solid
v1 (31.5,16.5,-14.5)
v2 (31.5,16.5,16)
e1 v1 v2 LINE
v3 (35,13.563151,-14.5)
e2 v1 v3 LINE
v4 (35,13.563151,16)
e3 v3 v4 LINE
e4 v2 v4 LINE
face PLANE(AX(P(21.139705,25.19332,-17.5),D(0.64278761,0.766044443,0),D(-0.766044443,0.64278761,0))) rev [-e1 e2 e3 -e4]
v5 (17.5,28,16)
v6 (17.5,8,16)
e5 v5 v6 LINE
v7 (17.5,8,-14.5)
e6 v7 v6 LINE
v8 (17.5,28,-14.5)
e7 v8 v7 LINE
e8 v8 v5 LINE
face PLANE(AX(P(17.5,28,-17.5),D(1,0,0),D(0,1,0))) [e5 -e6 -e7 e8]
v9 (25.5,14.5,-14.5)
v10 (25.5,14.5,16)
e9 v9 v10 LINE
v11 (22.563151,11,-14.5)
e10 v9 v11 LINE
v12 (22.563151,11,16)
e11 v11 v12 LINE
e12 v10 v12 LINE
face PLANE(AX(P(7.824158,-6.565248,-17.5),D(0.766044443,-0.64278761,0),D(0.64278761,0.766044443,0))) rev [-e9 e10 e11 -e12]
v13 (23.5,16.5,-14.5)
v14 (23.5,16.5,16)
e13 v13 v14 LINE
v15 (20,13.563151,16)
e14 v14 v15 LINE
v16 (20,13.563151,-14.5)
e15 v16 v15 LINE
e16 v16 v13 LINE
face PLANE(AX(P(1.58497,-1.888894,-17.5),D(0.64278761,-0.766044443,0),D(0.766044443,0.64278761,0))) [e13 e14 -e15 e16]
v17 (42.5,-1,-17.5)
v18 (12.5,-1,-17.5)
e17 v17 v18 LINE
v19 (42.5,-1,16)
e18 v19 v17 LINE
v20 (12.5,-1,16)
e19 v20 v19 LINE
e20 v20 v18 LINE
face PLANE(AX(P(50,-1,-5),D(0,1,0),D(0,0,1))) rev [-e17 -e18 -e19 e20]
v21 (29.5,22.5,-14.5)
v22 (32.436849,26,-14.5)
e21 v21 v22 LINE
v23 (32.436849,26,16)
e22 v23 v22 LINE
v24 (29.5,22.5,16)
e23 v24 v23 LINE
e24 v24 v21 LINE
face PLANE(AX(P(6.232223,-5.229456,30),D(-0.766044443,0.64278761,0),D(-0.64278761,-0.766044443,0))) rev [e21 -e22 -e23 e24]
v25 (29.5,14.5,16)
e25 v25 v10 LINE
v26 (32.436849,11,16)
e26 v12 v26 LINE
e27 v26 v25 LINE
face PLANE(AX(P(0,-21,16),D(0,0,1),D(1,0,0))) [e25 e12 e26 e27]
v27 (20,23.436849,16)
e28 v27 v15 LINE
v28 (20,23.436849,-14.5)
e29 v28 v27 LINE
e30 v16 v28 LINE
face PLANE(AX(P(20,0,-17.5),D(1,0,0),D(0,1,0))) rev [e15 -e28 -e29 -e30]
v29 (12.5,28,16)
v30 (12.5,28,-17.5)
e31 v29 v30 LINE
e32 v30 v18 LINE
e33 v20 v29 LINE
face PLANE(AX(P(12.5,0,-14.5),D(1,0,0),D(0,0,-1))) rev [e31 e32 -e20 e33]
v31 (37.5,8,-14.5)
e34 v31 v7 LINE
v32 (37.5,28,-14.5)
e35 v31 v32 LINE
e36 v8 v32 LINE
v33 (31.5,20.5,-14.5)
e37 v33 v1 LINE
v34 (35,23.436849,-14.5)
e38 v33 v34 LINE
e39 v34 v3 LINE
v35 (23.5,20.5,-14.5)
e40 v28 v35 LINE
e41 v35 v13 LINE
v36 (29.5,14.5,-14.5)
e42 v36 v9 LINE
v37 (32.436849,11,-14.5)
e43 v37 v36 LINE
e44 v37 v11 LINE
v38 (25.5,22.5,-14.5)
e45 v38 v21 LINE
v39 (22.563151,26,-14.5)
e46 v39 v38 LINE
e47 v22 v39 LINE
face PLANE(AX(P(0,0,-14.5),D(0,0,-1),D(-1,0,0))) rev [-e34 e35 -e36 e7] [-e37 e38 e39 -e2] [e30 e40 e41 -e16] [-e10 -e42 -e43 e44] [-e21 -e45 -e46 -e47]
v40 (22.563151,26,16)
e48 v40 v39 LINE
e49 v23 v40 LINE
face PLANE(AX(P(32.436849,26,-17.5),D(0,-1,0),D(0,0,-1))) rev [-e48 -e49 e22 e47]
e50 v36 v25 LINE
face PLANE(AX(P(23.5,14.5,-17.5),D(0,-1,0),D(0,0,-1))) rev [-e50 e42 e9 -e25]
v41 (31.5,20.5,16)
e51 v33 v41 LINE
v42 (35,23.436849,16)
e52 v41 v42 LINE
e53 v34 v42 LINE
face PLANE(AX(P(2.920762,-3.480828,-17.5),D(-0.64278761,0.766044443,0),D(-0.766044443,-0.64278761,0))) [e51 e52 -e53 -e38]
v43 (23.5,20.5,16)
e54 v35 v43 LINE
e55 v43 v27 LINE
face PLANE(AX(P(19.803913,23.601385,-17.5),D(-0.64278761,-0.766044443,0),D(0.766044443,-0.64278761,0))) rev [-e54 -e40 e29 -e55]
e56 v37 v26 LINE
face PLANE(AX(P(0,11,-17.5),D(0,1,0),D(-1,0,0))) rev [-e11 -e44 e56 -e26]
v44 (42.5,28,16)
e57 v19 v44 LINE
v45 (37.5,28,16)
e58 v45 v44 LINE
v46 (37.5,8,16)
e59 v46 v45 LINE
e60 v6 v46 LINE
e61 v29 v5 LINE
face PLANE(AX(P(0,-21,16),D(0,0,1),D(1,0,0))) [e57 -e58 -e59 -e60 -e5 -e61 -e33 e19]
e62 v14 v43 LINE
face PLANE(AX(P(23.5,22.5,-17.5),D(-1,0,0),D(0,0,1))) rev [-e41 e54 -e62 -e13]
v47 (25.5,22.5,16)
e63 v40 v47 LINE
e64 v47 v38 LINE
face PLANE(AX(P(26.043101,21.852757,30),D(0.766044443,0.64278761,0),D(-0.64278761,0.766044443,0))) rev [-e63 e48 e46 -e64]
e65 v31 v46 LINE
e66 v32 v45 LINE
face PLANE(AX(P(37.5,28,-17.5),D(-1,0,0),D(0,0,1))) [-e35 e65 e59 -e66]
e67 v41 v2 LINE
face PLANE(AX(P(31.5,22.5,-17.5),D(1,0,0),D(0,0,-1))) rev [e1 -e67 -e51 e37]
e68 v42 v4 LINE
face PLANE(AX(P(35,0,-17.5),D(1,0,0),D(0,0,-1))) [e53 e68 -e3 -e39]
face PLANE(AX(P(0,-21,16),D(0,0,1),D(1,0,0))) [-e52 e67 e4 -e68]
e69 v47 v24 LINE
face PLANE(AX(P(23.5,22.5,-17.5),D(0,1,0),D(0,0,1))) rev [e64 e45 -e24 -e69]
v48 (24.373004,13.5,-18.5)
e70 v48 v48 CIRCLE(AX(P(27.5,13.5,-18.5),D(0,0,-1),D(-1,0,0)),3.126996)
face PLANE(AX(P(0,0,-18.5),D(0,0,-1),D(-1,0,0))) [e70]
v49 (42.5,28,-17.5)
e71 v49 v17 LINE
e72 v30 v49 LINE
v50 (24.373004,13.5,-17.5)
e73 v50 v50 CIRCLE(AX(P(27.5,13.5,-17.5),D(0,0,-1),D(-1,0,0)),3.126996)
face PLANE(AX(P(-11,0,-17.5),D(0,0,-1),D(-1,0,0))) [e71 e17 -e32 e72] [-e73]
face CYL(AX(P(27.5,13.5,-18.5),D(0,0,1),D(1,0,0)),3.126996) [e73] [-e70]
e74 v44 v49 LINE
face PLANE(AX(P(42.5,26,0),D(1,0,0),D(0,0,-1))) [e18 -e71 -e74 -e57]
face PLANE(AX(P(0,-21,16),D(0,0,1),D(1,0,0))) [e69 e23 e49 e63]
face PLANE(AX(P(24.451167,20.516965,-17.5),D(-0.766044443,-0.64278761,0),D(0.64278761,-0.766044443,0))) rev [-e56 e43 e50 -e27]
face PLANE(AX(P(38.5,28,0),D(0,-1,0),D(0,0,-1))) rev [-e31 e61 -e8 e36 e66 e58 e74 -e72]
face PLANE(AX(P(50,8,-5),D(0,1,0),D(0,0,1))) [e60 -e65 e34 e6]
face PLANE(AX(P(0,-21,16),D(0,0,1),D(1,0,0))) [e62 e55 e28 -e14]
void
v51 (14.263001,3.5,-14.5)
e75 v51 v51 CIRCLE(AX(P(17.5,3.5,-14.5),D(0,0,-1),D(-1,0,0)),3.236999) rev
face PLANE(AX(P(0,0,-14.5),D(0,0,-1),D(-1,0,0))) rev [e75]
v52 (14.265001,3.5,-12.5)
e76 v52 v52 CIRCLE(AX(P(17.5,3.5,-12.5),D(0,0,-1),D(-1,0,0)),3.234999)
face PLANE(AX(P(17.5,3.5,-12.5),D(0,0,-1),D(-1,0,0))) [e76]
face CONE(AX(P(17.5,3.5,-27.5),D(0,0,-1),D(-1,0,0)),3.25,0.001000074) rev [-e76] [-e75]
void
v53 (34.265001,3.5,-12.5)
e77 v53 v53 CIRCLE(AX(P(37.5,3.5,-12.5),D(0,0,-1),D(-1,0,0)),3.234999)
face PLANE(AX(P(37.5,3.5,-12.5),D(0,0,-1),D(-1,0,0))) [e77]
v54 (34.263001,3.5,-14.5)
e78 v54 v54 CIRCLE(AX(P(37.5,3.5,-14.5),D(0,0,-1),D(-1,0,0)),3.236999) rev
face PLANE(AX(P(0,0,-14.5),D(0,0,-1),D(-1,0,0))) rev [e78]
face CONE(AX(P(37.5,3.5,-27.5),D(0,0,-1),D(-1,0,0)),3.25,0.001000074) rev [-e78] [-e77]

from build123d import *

# Parameters (mm, degrees)
BOSS_EXTRUDE2_DEPTH          = 8
BOSS_EXTRUDE2_DEPTH_BACK     = 1
SKETCH1_R                    = 2.5
CUT_EXTRUDE1_DEPTH           = 79.300702423
CUT_EXTRUDE1_DEPTH_BACK      = 79.300702423
SKETCH2_R                    = 2.5
SKETCH3_R                    = 3.25
CUT_EXTRUDE5_DEPTH           = 15
CUT_EXTRUDE5_DRAFT           = -0.0573
CUT_EXTRUDE5_PROFILE_2_DEPTH = 15
CUT_EXTRUDE5_PROFILE_2_DRAFT = -0.0573
SKETCH5_W                    = 4.5
SKETCH5_H                    = 6.5
BOSS_EXTRUDE3_DEPTH          = 14.5
SKETCH6_R                    = 4
CUT_EXTRUDE4_DEPTH           = 1.5
SKETCH12_W                   = 10.5
SKETCH12_H                   = 30
BOSS_EXTRUDE7_DEPTH          = 9
SKETCH15_W                   = 9
SKETCH15_H                   = 6.5
BOSS_EXTRUDE8_DEPTH          = 3.5
BOSS_EXTRUDE9_DEPTH          = 54
FILLET4_R                    = 5
SKETCH18_W                   = 9.873697418
SKETCH18_H                   = 6.5
BOSS_EXTRUDE11_DEPTH         = 0.5
SKETCH20_W                   = 4
SKETCH20_H                   = 17.5
BOSS_EXTRUDE12_DEPTH         = 18
BOSS_EXTRUDE13_DEPTH         = 11
BOSS_EXTRUDE13_DEPTH_BACK    = 4
SKETCH22_W                   = 17.5
SKETCH22_H                   = 4
SKETCH25_W                   = 2
SKETCH25_H                   = 17.5
BOSS_EXTRUDE14_DEPTH         = 41
SKETCH28_W                   = 41
SKETCH28_H                   = 45
BOSS_EXTRUDE15_DEPTH         = 2
SKETCH29_R                   = 1.75
CUT_EXTRUDE8_DEPTH           = 9
BOSS_EXTRUDE16_DEPTH         = 9
BOSS_EXTRUDE16_DEPTH_BACK    = 4
SKETCH30_W                   = 17.5
SKETCH30_H                   = 2
CUT_EXTRUDE9_DEPTH           = 9
SKETCH32_W                   = 13
SKETCH32_H                   = 4
BOSS_EXTRUDE17_DEPTH         = 23.5
SKETCH33_W                   = 0.5
SKETCH33_H                   = 17.5
BOSS_EXTRUDE18_DEPTH         = 20
SKETCH34_W                   = 4.5
SKETCH34_H                   = 25
SKETCH34_W_2                 = 15.5
SKETCH34_H_2                 = 4
SKETCH34_W_3                 = 9
BOSS_EXTRUDE19_DEPTH         = 26
SKETCH35_W                   = 9.873697418
SKETCH35_H                   = 0.5
BOSS_EXTRUDE20_DEPTH         = 47.5
BOSS_EXTRUDE21_DEPTH         = 47.5
SKETCH38_W                   = 0.419549816
SKETCH38_H                   = 18.5
CUT_EXTRUDE10_DEPTH          = 90.5
SKETCH39_W                   = 4
SKETCH39_H                   = 4
BOSS_EXTRUDE23_DEPTH         = 47.5
SKETCH46_W                   = 22.5
SKETCH46_H                   = 9
SKETCH46_W_2                 = 5
BOSS_EXTRUDE26_DEPTH         = 11.5
SKETCH47_W                   = 27.5
SKETCH47_H                   = 9
BOSS_EXTRUDE27_DEPTH         = 11
SKETCH48_W                   = 5
SKETCH48_H                   = 6.5
BOSS_EXTRUDE31_DEPTH         = 18.5
SKETCH50_R                   = 4
CUT_EXTRUDE11_DEPTH          = 1.5
SKETCH51_W                   = 9.626242636
SKETCH51_H                   = 9.125298808
BOSS_EXTRUDE32_DEPTH         = 1.5
BOSS_EXTRUDE35_DEPTH         = 47.5
SKETCH55_W                   = 9.873697418
SKETCH55_H                   = 0.5
CUT_EXTRUDE12_DEPTH          = 47.5
SKETCH56_W                   = 0.5
SKETCH56_H                   = 20
BOSS_EXTRUDE36_DEPTH         = 43.5
BOSS_EXTRUDE37_DEPTH         = 47.5
SKETCH58_W                   = 0.715052156
SKETCH58_H                   = 9.51279705
CUT_EXTRUDE13_DEPTH          = 4
CUT_EXTRUDE15_DEPTH          = 47.5
SKETCH60_W                   = 0.215052156
SKETCH60_H                   = 9.51279705
CUT_EXTRUDE16_DEPTH          = 47.5
CUT_EXTRUDE17_DEPTH          = 47.5
SKETCH62_W                   = 8
SKETCH62_H                   = 8
CUT_EXTRUDE18_DEPTH          = 47.5
SKETCH63_W                   = 13
SKETCH63_H                   = 4
CUT_EXTRUDE20_DEPTH          = 17
SKETCH64_W                   = 1
SKETCH64_H                   = 1.5
BOSS_EXTRUDE38_DEPTH         = 6.5
SKETCH65_W                   = 7
SKETCH65_H                   = 3
CUT_EXTRUDE21_DEPTH          = 1.5
BOSS_EXTRUDE39_START         = -2
BOSS_EXTRUDE39_DEPTH         = 2
CUT_EXTRUDE22_DEPTH          = 155
CUT_EXTRUDE24_DEPTH          = 100.318930723
CUT_EXTRUDE24_DEPTH_BACK     = 100.318930723
SKETCH71_R                   = 1.75
SKETCH71_R_2                 = 12.5
SKETCH71_W                   = 8.630690043
SKETCH71_H                   = 4
CUT_EXTRUDE25_DEPTH          = 10
CUT_EXTRUDE26_DEPTH          = 78.879714946
CUT_EXTRUDE26_DEPTH_BACK     = 78.879714946
SKETCH72_W                   = 11
SKETCH72_H                   = 4
SKETCH72_W_2                 = 23.5
SKETCH72_H_2                 = 9
SKETCH72_W_3                 = 9
SKETCH72_H_3                 = 16
SKETCH72_W_4                 = 7
SKETCH72_H_4                 = 1.5
BOSS_EXTRUDE40_DEPTH         = 3
CUT_EXTRUDE27_DEPTH          = 49
SKETCH75_W                   = 30
SKETCH75_H                   = 29
BOSS_EXTRUDE41_DEPTH         = 3
BOSS_EXTRUDE42_DEPTH         = 1


with BuildPart() as part:
    # Sketch1 → Boss-Extrude2 (new, two sides: drawn at the far end of the back side and taken through both)
    with BuildSketch(Plane(origin=(0, 0, 0), x_dir=(1, 0, 0), z_dir=(0, 1, 0)).offset(-BOSS_EXTRUDE2_DEPTH_BACK)):
        with BuildLine():
            Line((5, 0), (50, 0))
            ThreePointArc((50, 0), (53.535533906, 1.464466094), (55, 5))
            Line((55, 5), (55, 50))
            ThreePointArc((55, 50), (53.535533906, 53.535533906), (50, 55))
            Line((50, 55), (5, 55))
            ThreePointArc((5, 55), (1.464466094, 53.535533906), (0, 50))
            Line((0, 50), (0, 5))
            ThreePointArc((0, 5), (1.464466094, 1.464466094), (5, 0))
        make_face()
        with Locations(Location((7.5, 47.5, 0), (0, 0, 270))):
            Circle(SKETCH1_R, mode=Mode.SUBTRACT)
        with Locations(Location((47.5, 47.5, 0), (0, 0, 270))):
            Circle(SKETCH1_R, mode=Mode.SUBTRACT)
        with Locations(Location((47.5, 7.5, 0), (0, 0, 270))):
            Circle(SKETCH1_R, mode=Mode.SUBTRACT)
        with Locations(Location((7.5, 7.5, 0), (0, 0, 270))):
            Circle(SKETCH1_R, mode=Mode.SUBTRACT)
    extrude(amount=BOSS_EXTRUDE2_DEPTH + BOSS_EXTRUDE2_DEPTH_BACK)

    # Sketch2 → Cut-Extrude1 (cut, two sides: drawn at the far end of the back side and taken through both)
    with BuildSketch(Plane(origin=(0, 8, 0), x_dir=(1, 0, 0), z_dir=(0, 1, 0)).offset(-CUT_EXTRUDE1_DEPTH_BACK)):
        with BuildLine():
            Line((0, 50), (0, 27.5))
            Line((0, 27.5), (55, 27.5))
            Line((55, 27.5), (55, 50))
            ThreePointArc((55, 50), (53.535533906, 53.535533906), (50, 55))
            Line((50, 55), (5, 55))
            ThreePointArc((5, 55), (1.464466094, 53.535533906), (0, 50))
        make_face()
        with Locations((7.5, 47.5)):
            Circle(SKETCH2_R, mode=Mode.SUBTRACT)
        with Locations((47.5, 47.5)):
            Circle(SKETCH2_R, mode=Mode.SUBTRACT)
    extrude(amount=CUT_EXTRUDE1_DEPTH + CUT_EXTRUDE1_DEPTH_BACK, mode=Mode.SUBTRACT)


with BuildPart() as cut_extrude5_tool:
    # Sketch3 → Cut-Extrude5 (with draft: the straight prism first)
    with BuildSketch(Plane(origin=(0, 0, -27.5), x_dir=(-1, 0, 0), z_dir=(0, 0, -1))):
        with Locations((-37.5, 3.5)):
            Circle(SKETCH3_R)
    extrude(amount=-CUT_EXTRUDE5_DEPTH)
    # Cut-Extrude5: the draft: its side faces are tilted about the plane it starts from
    cut_extrude5_sides = [cut_extrude5_tool.faces().sort_by_distance(p)[0] for p in [
        (40.75, 3.5, -20),
    ]]
    draft(cut_extrude5_sides, Plane(origin=(0, 0, -27.5), x_dir=(-1, 0, 0), z_dir=(0, 0, -1)), CUT_EXTRUDE5_DRAFT)


with BuildPart() as part_1:
    add(part.part)

    # Cut-Extrude5: cut by cut_extrude5_tool
    add(cut_extrude5_tool.part, mode=Mode.SUBTRACT)


with BuildPart() as cut_extrude5_profile_2_tool:
    # Sketch3 → Cut-Extrude5 profile 2 (with draft: the straight prism first)
    with BuildSketch(Plane(origin=(0, 0, -27.5), x_dir=(-1, 0, 0), z_dir=(0, 0, -1))):
        with Locations((-17.5, 3.5)):
            Circle(SKETCH3_R)
    extrude(amount=-CUT_EXTRUDE5_PROFILE_2_DEPTH)
    # Cut-Extrude5 profile 2: the draft: its side faces are tilted about the plane it starts from
    cut_extrude5_profile_2_sides = [cut_extrude5_profile_2_tool.faces().sort_by_distance(p)[0] for p in [
        (20.75, 3.5, -20),
    ]]
    draft(cut_extrude5_profile_2_sides, Plane(origin=(0, 0, -27.5), x_dir=(-1, 0, 0), z_dir=(0, 0, -1)), CUT_EXTRUDE5_PROFILE_2_DRAFT)


with BuildPart() as part_2:
    add(part_1.part)

    # Cut-Extrude5 profile 2: cut by cut_extrude5_profile_2_tool
    add(cut_extrude5_profile_2_tool.part, mode=Mode.SUBTRACT)

    # Sketch5 → Boss-Extrude3 (add)
    with BuildSketch(Plane(origin=(0, 8, 0), x_dir=(1, 0, 0), z_dir=(0, 1, 0))):
        with Locations((25.25, 20.75)):
            Rectangle(SKETCH5_W, SKETCH5_H)
        with Locations((29.75, 20.75)):
            Rectangle(SKETCH5_W, SKETCH5_H)
    extrude(amount=BOSS_EXTRUDE3_DEPTH)

    # Sketch6 → Cut-Extrude4 (cut)
    with BuildSketch(Plane(origin=(0, 0, -24), x_dir=(-1, 0, 0), z_dir=(0, 0, -1))):
        with Locations((-27.5, 17)):
            Circle(SKETCH6_R)
    extrude(amount=-CUT_EXTRUDE4_DEPTH, mode=Mode.SUBTRACT)

    # Sketch12 → Boss-Extrude7 (add)
    with BuildSketch(Plane(origin=(0, 8, 0), x_dir=(1, 0, 0), z_dir=(0, 1, 0))):
        with Locations((32.75, -15)):
            Rectangle(SKETCH12_W, SKETCH12_H)
        with Locations((22.25, -15)):
            Rectangle(SKETCH12_W, SKETCH12_H)
    extrude(amount=-BOSS_EXTRUDE7_DEPTH)

    # Sketch15 → Boss-Extrude8 (add)
    with BuildSketch(Plane(origin=(0, 22.5, 0), x_dir=(1, 0, 0), z_dir=(0, 1, 0))):
        with Locations((27.5, 20.75)):
            Rectangle(SKETCH15_W, SKETCH15_H)
    extrude(amount=BOSS_EXTRUDE8_DEPTH)

    # Sketch11 → Boss-Extrude9 (add)
    with BuildSketch(Plane(origin=(0, 0, -24), x_dir=(-1, 0, 0), z_dir=(0, 0, -1))):
        Polygon((-32.436848709, 26), (-29.5, 22.5), (-29.5, 26), align=None)
        Polygon((-29.5, 22.5), (-27.5, 22.5), (-25.5, 22.5), (-25.5, 26), (-29.5, 26), align=None)
        Polygon((-25.5, 26), (-25.5, 22.5), (-22.563151291, 26), align=None)
    extrude(amount=-BOSS_EXTRUDE9_DEPTH)

    # Fillet4
    fillet4_edges = [part_2.edges().sort_by_distance(p)[0] for p in [
        (27.5, -1, 30),
    ]]
    fillet(fillet4_edges, radius=FILLET4_R)

    # Sketch18 → Boss-Extrude11 (add)
    with BuildSketch(Plane(origin=(0, 26, 0), x_dir=(1, 0, 0), z_dir=(0, 1, 0))):
        with Locations((27.5, 20.75)):
            Rectangle(SKETCH18_W, SKETCH18_H)
    extrude(amount=BOSS_EXTRUDE11_DEPTH)

    # Sketch20 → Boss-Extrude12 (add)
    with BuildSketch(Plane(origin=(0, 8, 0), x_dir=(1, 0, 0), z_dir=(0, 1, 0))):
        with Locations((14.5, 8.75)):
            Rectangle(SKETCH20_W, SKETCH20_H)
        with Locations((40.5, 8.75)):
            Rectangle(SKETCH20_W, SKETCH20_H)
    extrude(amount=BOSS_EXTRUDE12_DEPTH)

    # Sketch22 → Boss-Extrude13 (add, two sides: drawn at the far end of the back side and taken through both)
    with BuildSketch(Plane.ZY.offset(-12.5).offset(-BOSS_EXTRUDE13_DEPTH_BACK)):
        with Locations((-8.75, 26)):
            Rectangle(SKETCH22_W, SKETCH22_H)
    extrude(amount=BOSS_EXTRUDE13_DEPTH + BOSS_EXTRUDE13_DEPTH_BACK)

    # Sketch25 → Boss-Extrude14 (add)
    with BuildSketch(Plane(origin=(0, 28, 0), x_dir=(1, 0, 0), z_dir=(0, 1, 0))):
        with Locations((2.5, 8.75)):
            Rectangle(SKETCH25_W, SKETCH25_H)
    extrude(amount=BOSS_EXTRUDE14_DEPTH)

    # Sketch28 → Boss-Extrude15 (add)
    with BuildSketch(Plane.ZY.offset(-1.5)):
        with Locations((-20.5, 46.5)):
            Rectangle(SKETCH28_W, SKETCH28_H)
    extrude(amount=-BOSS_EXTRUDE15_DEPTH)

    # Sketch29 → Cut-Extrude8 (cut)
    with BuildSketch(Plane.ZY.offset(-1.5)):
        with Locations((-36, 33)):
            Circle(SKETCH29_R)
        with Locations((-5, 64)):
            Circle(SKETCH29_R)
        with Locations((-5, 33)):
            Circle(SKETCH29_R)
        with Locations((-36, 64)):
            Circle(SKETCH29_R)
    extrude(amount=-CUT_EXTRUDE8_DEPTH, mode=Mode.SUBTRACT)

    # Sketch30 → Boss-Extrude16 (add, two sides: drawn at the far end of the back side and taken through both)
    with BuildSketch(Plane(origin=(42.5, 0, 0), x_dir=(0, 0, -1), z_dir=(1, 0, 0)).offset(-BOSS_EXTRUDE16_DEPTH_BACK)):
        with Locations((8.75, 25)):
            Rectangle(SKETCH30_W, SKETCH30_H)
        with Locations((8.75, 27)):
            Rectangle(SKETCH30_W, SKETCH30_H)
    extrude(amount=BOSS_EXTRUDE16_DEPTH + BOSS_EXTRUDE16_DEPTH_BACK)

    # Sketch31 → Cut-Extrude9 (cut)
    with BuildSketch(Plane(origin=(3.5, 0, 0), x_dir=(0, 0, -1), z_dir=(1, 0, 0))):
        with BuildLine():
            ThreePointArc((30.5, 47), (27.571067812, 54.071067812), (20.5, 57))
            Line((20.5, 57), (20.5, 47))
            Line((20.5, 47), (30.5, 47))
        make_face()
        with BuildLine():
            Line((20.5, 47), (20.5, 57))
            ThreePointArc((20.5, 57), (13.428932188, 39.928932188), (30.5, 47))
            Line((30.5, 47), (20.5, 47))
        make_face()
    extrude(amount=-CUT_EXTRUDE9_DEPTH, mode=Mode.SUBTRACT)

    # Sketch32 → Boss-Extrude17 (add)
    with BuildSketch(Plane(origin=(0, 0, -17.5), x_dir=(-1, 0, 0), z_dir=(0, 0, -1))):
        with Locations((-10, 26)):
            Rectangle(SKETCH32_W, SKETCH32_H)
    extrude(amount=BOSS_EXTRUDE17_DEPTH)

    # Sketch33 → Boss-Extrude18 (add)
    with BuildSketch(Plane(origin=(0, 8, 0), x_dir=(1, 0, 0), z_dir=(0, 1, 0))):
        with Locations((38.25, 8.75)):
            Rectangle(SKETCH33_W, SKETCH33_H)
        with Locations((16.75, 8.75)):
            Rectangle(SKETCH33_W, SKETCH33_H)
    extrude(amount=BOSS_EXTRUDE18_DEPTH)

    # Sketch34 → Boss-Extrude19 (add)
    with BuildSketch(Plane.XY):
        with Locations((14.75, 11.5)):
            Rectangle(SKETCH34_W, SKETCH34_H)
        with Locations((9.25, 26)):
            Rectangle(SKETCH34_W_2, SKETCH34_H_2)
        Polygon((42.5, 24), (42.5, 28), (38, 28), (38, 8), (38, -1), (42.5, -1), (42.5, 8), align=None)
        with Locations((47, 26)):
            Rectangle(SKETCH34_W_3, SKETCH34_H_2)
    extrude(amount=BOSS_EXTRUDE19_DEPTH)

    # Sketch35 → Boss-Extrude20 (add)
    with BuildSketch(Plane.XY.offset(-17.5)):
        with Locations((27.5, 26.25)):
            Rectangle(SKETCH35_W, SKETCH35_H)
    extrude(amount=BOSS_EXTRUDE20_DEPTH)

    # Sketch37 → Boss-Extrude21 (add)
    with BuildSketch(Plane.XY.offset(-17.5)):
        Polygon((23, 8), (25.5, 8), (25.5, 12), (23, 9.020616019), align=None)
        Polygon((25.5, 8), (27.5, 8), (29.5, 8), (29.5, 12), (25.5, 12), align=None)
        Polygon((29.5, 12), (29.5, 8), (32, 8), (32, 9.020616019), align=None)
        Polygon((29.5, 8), (27.5, 8), (25.5, 8), (23, 8), (23, 9.020616019), (21.863844179, 7.666598237), (33.136155821, 7.666598237), (32, 9.020616019), (32, 8), align=None)
    extrude(amount=BOSS_EXTRUDE21_DEPTH)

    # Sketch38 → Cut-Extrude10 (cut)
    with BuildSketch(Plane.XY.offset(30)):
        with Locations((22.353376383, 17.25)):
            Rectangle(SKETCH38_W, SKETCH38_H)
        with Locations((32.646623617, 17.25)):
            Rectangle(SKETCH38_W, SKETCH38_H)
    extrude(amount=-CUT_EXTRUDE10_DEPTH, mode=Mode.SUBTRACT)

    # Sketch39 → Boss-Extrude23 (add)
    with BuildSketch(Plane.XY.offset(30)):
        Polygon((21, 19.25), (17.715052156, 22.006398525), (17, 22.006398525), (17, 19.25), align=None)
        with Locations((19, 17.25)):
            Rectangle(SKETCH39_W, SKETCH39_H)
        Polygon((17.715052156, 12.493601475), (21, 15.25), (17, 15.25), (17, 12.493601475), align=None)
        Polygon((37.284947844, 12.493601475), (38, 12.493601475), (38, 15.25), (34, 15.25), align=None)
        Polygon((38, 17.25), (38, 19.25), (34, 19.25), (34, 15.25), (38, 15.25), align=None)
        Polygon((38, 19.25), (38, 22.006398525), (37.284947844, 22.006398525), (34, 19.25), align=None)
    extrude(amount=-BOSS_EXTRUDE23_DEPTH)

    # Sketch46 → Boss-Extrude26 (add)
    with BuildSketch(Plane.ZY):
        with Locations((-16.25, 3.5)):
            Rectangle(SKETCH46_W, SKETCH46_H)
        with Locations((-2.5, 3.5)):
            Rectangle(SKETCH46_W_2, SKETCH46_H)
    extrude(amount=-BOSS_EXTRUDE26_DEPTH)

    # Sketch47 → Boss-Extrude27 (add)
    with BuildSketch(Plane.ZY):
        with Locations((-13.75, 3.5)):
            Rectangle(SKETCH47_W, SKETCH47_H)
    extrude(amount=BOSS_EXTRUDE27_DEPTH)

    # Sketch48 → Boss-Extrude31 (add)
    with BuildSketch(Plane(origin=(0, 8, 0), x_dir=(1, 0, 0), z_dir=(0, 1, 0))):
        Polygon((42.5, 17.5), (42.5, 24), (32, 24), (32, 17.5), (32.436848709, 17.5), (38, 17.5), align=None)
        with Locations((45, 20.75)):
            Rectangle(SKETCH48_W, SKETCH48_H)
        Polygon((12.5, 24), (12.5, 17.5), (17, 17.5), (22.563151291, 17.5), (23, 17.5), (23, 24), align=None)
        with Locations((10, 20.75)):
            Rectangle(SKETCH48_W, SKETCH48_H)
    extrude(amount=BOSS_EXTRUDE31_DEPTH)

    # Sketch50 → Cut-Extrude11 (cut)
    with BuildSketch(Plane(origin=(0, 0, -24), x_dir=(-1, 0, 0), z_dir=(0, 0, -1))):
        with Locations((-17.5, 17)):
            Circle(SKETCH50_R)
        with Locations((-37.5, 17)):
            Circle(SKETCH50_R)
    extrude(amount=-CUT_EXTRUDE11_DEPTH, mode=Mode.SUBTRACT)

    # Sketch51 → Boss-Extrude32 (add)
    with BuildSketch(Plane(origin=(0, 0, -24), x_dir=(-1, 0, 0), z_dir=(0, 0, -1))):
        with Locations((-27.646184708, 17.114099589)):
            Rectangle(SKETCH51_W, SKETCH51_H)
    extrude(amount=-BOSS_EXTRUDE32_DEPTH)

    # Sketch54 → Boss-Extrude35 (add)
    with BuildSketch(Plane.XY.offset(-17.5)):
        Polygon((29.5, 22.5), (27.5, 22.5), (27.5, 14.5), (31.5, 14.5), (31.5, 22.5), align=None)
        Polygon((27.5, 14.5), (27.5, 22.5), (25.5, 22.5), (23.5, 22.5), (23.5, 14.5), align=None)
    extrude(amount=BOSS_EXTRUDE35_DEPTH)

    # Sketch55 → Cut-Extrude12 (cut)
    with BuildSketch(Plane.XY.offset(30)):
        with Locations((27.5, 26.25)):
            Rectangle(SKETCH55_W, SKETCH55_H)
    extrude(amount=-CUT_EXTRUDE12_DEPTH, mode=Mode.SUBTRACT)

    # Sketch56 → Boss-Extrude36 (add)
    with BuildSketch(Plane.XY.offset(26)):
        with Locations((37.75, 18)):
            Rectangle(SKETCH56_W, SKETCH56_H)
        with Locations((17.25, 18)):
            Rectangle(SKETCH56_W, SKETCH56_H)
    extrude(amount=-BOSS_EXTRUDE36_DEPTH)

    # Sketch57 → Boss-Extrude37 (add)
    with BuildSketch(Plane.XY.offset(30)):
        Polygon((35, 23.436848709), (31.5, 20.5), (31.5, 20.428787517), (35, 20.428787517), align=None)
        Polygon((35, 20.428787517), (31.5, 20.428787517), (31.5, 18.5), (35, 18.5), (35, 18.535606241), align=None)
        Polygon((35, 18.5), (31.5, 18.5), (31.5, 16.5), (35, 16.5), (35, 18.464393759), align=None)
        Polygon((35, 16.5), (31.5, 16.5), (35, 13.563151291), align=None)
        Polygon((32.436848709, 11), (29.5, 14.5), (25.5, 14.5), (22.563151291, 11), align=None)
        Polygon((20, 16.5), (23.5, 16.5), (23.5, 18.5), (23.5, 20.5), (20, 23.436848709), (20, 18.535606241), (20, 18.464393759), align=None)
        Polygon((20, 13.563151291), (23.5, 16.5), (20, 16.5), align=None)
    extrude(amount=-BOSS_EXTRUDE37_DEPTH)

    # Sketch58 → Cut-Extrude13 (cut)
    with BuildSketch(Plane.XY.offset(30)):
        with Locations((37.642473922, 17.25)):
            Rectangle(SKETCH58_W, SKETCH58_H)
        with Locations((17.357526078, 17.25)):
            Rectangle(SKETCH58_W, SKETCH58_H)
    extrude(amount=-CUT_EXTRUDE13_DEPTH, mode=Mode.SUBTRACT)

    # Sketch59 → Cut-Extrude15 (cut)
    with BuildSketch(Plane.XY.offset(30)):
        Polygon((37.284947844, 22.006398525), (35, 20.089099631), (35, 14.410900369), (37.284947844, 12.493601475), align=None)
        Polygon((17.715052156, 22.006398525), (20, 20.089099631), (20, 14.410900369), (17.715052156, 12.493601475), align=None)
    extrude(amount=-CUT_EXTRUDE15_DEPTH, mode=Mode.SUBTRACT)

    # Sketch60 → Cut-Extrude16 (cut)
    with BuildSketch(Plane.XY.offset(26)):
        with Locations((37.392473922, 17.25)):
            Rectangle(SKETCH60_W, SKETCH60_H)
        with Locations((17.607526078, 17.25)):
            Rectangle(SKETCH60_W, SKETCH60_H)
    extrude(amount=-CUT_EXTRUDE16_DEPTH, mode=Mode.SUBTRACT)

    # Sketch61 → Cut-Extrude17 (cut)
    with BuildSketch(Plane.XY.offset(30)):
        Polygon((32.436848709, 8), (22.563151291, 8), (22.563151291, 8.5), (24.660900369, 11), (30.339099631, 11), (32.436848709, 8.5), align=None)
    extrude(amount=-CUT_EXTRUDE17_DEPTH, mode=Mode.SUBTRACT)

    # Sketch62 → Cut-Extrude18 (cut)
    with BuildSketch(Plane.XY.offset(30)):
        with Locations((27.5, 18.5)):
            Rectangle(SKETCH62_W, SKETCH62_H)
    extrude(amount=-CUT_EXTRUDE18_DEPTH, mode=Mode.SUBTRACT)

    # Sketch63 → Cut-Extrude20 (cut)
    with BuildSketch(Plane(origin=(0, 0, -41), x_dir=(-1, 0, 0), z_dir=(0, 0, -1))):
        with Locations((-10, 26)):
            Rectangle(SKETCH63_W, SKETCH63_H)
    extrude(amount=-CUT_EXTRUDE20_DEPTH, mode=Mode.SUBTRACT)

    # Sketch64 → Boss-Extrude38 (add)
    with BuildSketch(Plane(origin=(0, 0, -17.5), x_dir=(-1, 0, 0), z_dir=(0, 0, -1))):
        with Locations((-17, 27.25)):
            Rectangle(SKETCH64_W, SKETCH64_H)
    extrude(amount=BOSS_EXTRUDE38_DEPTH)

    # Sketch65 → Cut-Extrude21 (cut)
    with BuildSketch(Plane(origin=(0, 28, 0), x_dir=(1, 0, 0), z_dir=(0, 1, 0))):
        with Locations((48, 16)):
            Rectangle(SKETCH65_W, SKETCH65_H)
    extrude(amount=-CUT_EXTRUDE21_DEPTH, mode=Mode.SUBTRACT)

    # Sketch66 → Boss-Extrude39 (add)
    with BuildSketch(Plane.ZY.offset(-1.5).offset(BOSS_EXTRUDE39_START)):
        with BuildLine():
            ThreePointArc((-30.5, 47), (-20.5, 37), (-10.5, 47))
            Line((-10.5, 47), (-30.5, 47))
        make_face()
        with BuildLine():
            Line((-30.5, 47), (-10.5, 47))
            ThreePointArc((-10.5, 47), (-20.5, 57), (-30.5, 47))
        make_face()
    extrude(amount=BOSS_EXTRUDE39_DEPTH)

    # Sketch67 → Cut-Extrude22 (cut)
    with BuildSketch(Plane.ZY.offset(-1.5)):
        with BuildLine():
            ThreePointArc((-33, 48.5), (-29.338834765, 39.661165235), (-20.5, 36))
            Line((-20.5, 36), (-20.5, 48.5))
            Line((-20.5, 48.5), (-33, 48.5))
        make_face()
        with BuildLine():
            Line((-20.5, 48.5), (-20.5, 36))
            ThreePointArc((-20.5, 36), (-11.661165235, 39.661165235), (-8, 48.5))
            Line((-8, 48.5), (-20.5, 48.5))
        make_face()
        with BuildLine():
            Line((-33, 48.5), (-20.5, 48.5))
            Line((-20.5, 48.5), (-20.5, 61))
            ThreePointArc((-20.5, 61), (-29.338834765, 57.338834765), (-33, 48.5))
        make_face()
        with BuildLine():
            Line((-20.5, 61), (-20.5, 48.5))
            Line((-20.5, 48.5), (-8, 48.5))
            ThreePointArc((-8, 48.5), (-11.661165235, 57.338834765), (-20.5, 61))
        make_face()
    extrude(amount=-CUT_EXTRUDE22_DEPTH, mode=Mode.SUBTRACT)

    # Sketch70 → Cut-Extrude24 (cut, two sides: drawn at the far end of the back side and taken through both)
    with BuildSketch(Plane(origin=(47.5, 0, 0), x_dir=(0, 0, -1), z_dir=(1, 0, 0)).offset(-CUT_EXTRUDE24_DEPTH_BACK)):
        Polygon((24, 26.5), (24, 8), (32.338984554, 8), (32.338984554, 35.599062225), (17.5, 35.599062225), (17.5, 26.5), align=None)
        Polygon((24, 8), (17.5, 8), (17.5, -11.953759578), (33.273947099, -11.953759578), (33.273947099, 8), (32.338984554, 8), align=None)
        Polygon((17.5, 24), (17.5, 8), (24, 8), (24, 26.5), (17.5, 26.5), align=None)
    extrude(amount=CUT_EXTRUDE24_DEPTH + CUT_EXTRUDE24_DEPTH_BACK, mode=Mode.SUBTRACT)


with BuildPart() as cut_extrude24_piece_1:
    # of the separate pieces the step leaves, piece 1, a body of its own (cut_extrude24_pieces)
    add(part_2.part.solids().sort_by_distance((38, 4, 30))[0])

    # Sketch71 → Cut-Extrude25 (cut)
    # profile 1 of 4: a face of its own
    with BuildSketch(Plane(origin=(3.5, 0, 0), x_dir=(0, 0, -1), z_dir=(1, 0, 0))):
        Polygon((0, 98.329177842), (0, 69), (41, 69), (41, 28), (61.289535751, 28), (61.289535751, 98.329177842), align=None)
    # profile 2 of 4: a face of its own
    with BuildSketch(Plane(origin=(3.5, 0, 0), x_dir=(0, 0, -1), z_dir=(1, 0, 0))):
        Polygon((0, 69), (0, 28), (17.5, 28), (17.5, 35.599062225), (32.338984554, 35.599062225), (32.338984554, 28), (32.369309957, 28), (41, 28), (41, 69), align=None)
        with Locations((5, 33)):
            Circle(SKETCH71_R, mode=Mode.SUBTRACT)
        with Locations((36, 33)):
            Circle(SKETCH71_R, mode=Mode.SUBTRACT)
        with Locations((20.5, 48.5)):
            Circle(SKETCH71_R_2, mode=Mode.SUBTRACT)
        with Locations((5, 64)):
            Circle(SKETCH71_R, mode=Mode.SUBTRACT)
        with Locations((36, 64)):
            Circle(SKETCH71_R, mode=Mode.SUBTRACT)
    # profile 3 of 4: a face of its own
    with BuildSketch(Plane(origin=(3.5, 0, 0), x_dir=(0, 0, -1), z_dir=(1, 0, 0))):
        Polygon((61.289535751, 28), (41, 28), (41, 24), (32.369309957, 24), (32.369309957, 8.193802702), (79.936666515, 8.193802702), (79.936666515, 28), align=None)
    # profile 4 of 4: a face of its own
    with BuildSketch(Plane(origin=(3.5, 0, 0), x_dir=(0, 0, -1), z_dir=(1, 0, 0))):
        with Locations((36.684654978, 26)):
            Rectangle(SKETCH71_W, SKETCH71_H)
    extrude(amount=-CUT_EXTRUDE25_DEPTH, mode=Mode.SUBTRACT)


with BuildPart() as cut_extrude24_piece_2:
    # of the separate pieces the step leaves, piece 2, a body of its own (cut_extrude24_pieces)
    add(part_2.part.solids().sort_by_distance((23.5, 20.5, 30))[0])



with BuildPart() as cut_extrude24_piece_3:
    # of the separate pieces the step leaves, piece 3, a body of its own (cut_extrude24_pieces)
    add(part_2.part.solids().sort_by_distance((31.5, 16.5, 30))[0])


with BuildPart() as cut_extrude24_piece_4:
    # of the separate pieces the step leaves, piece 4, a body of its own (cut_extrude24_pieces)
    add(part_2.part.solids().sort_by_distance((32.436848709, 26, -17.5))[0])


with BuildPart() as cut_extrude24_piece_5:
    # of the separate pieces the step leaves, piece 5, a body of its own (cut_extrude24_pieces)
    add(part_2.part.solids().sort_by_distance((32.436848709, 11, 30))[0])


with BuildPart() as cut_extrude25_piece_1:
    # of the separate pieces the step leaves, piece 1, a body of its own (cut_extrude25_pieces)
    add(cut_extrude24_piece_1.part.solids().sort_by_distance((38, 4, 30))[0])


with BuildPart() as cut_extrude25_piece_2:
    # of the separate pieces the step leaves, piece 2, a body of its own (cut_extrude25_pieces)
    add(cut_extrude24_piece_1.part.solids().sort_by_distance((3.5, 28, -32.369309957))[0])


with BuildPart() as cut_extrude26_tool:
    # Sketch72 → Cut-Extrude26 (new, two sides: drawn at the far end of the back side and taken through both)
    with BuildSketch(Plane(origin=(0, 0, -17.5), x_dir=(-1, 0, 0), z_dir=(0, 0, -1)).offset(-CUT_EXTRUDE26_DEPTH_BACK)):
        Polygon((-1.5, 24), (-12.5, 24), (-12.5, 8), (11, 8), (11, 28), (-1.5, 28), align=None)
        with Locations((-7, 26)):
            Rectangle(SKETCH72_W, SKETCH72_H)
        with Locations((-0.75, 3.5)):
            Rectangle(SKETCH72_W_2, SKETCH72_H_2)
        with Locations((-47, 16)):
            Rectangle(SKETCH72_W_3, SKETCH72_H_3)
        Polygon((-51.5, 24), (-42.5, 24), (-42.5, 28), (-44.5, 28), (-44.5, 26.5), (-51.5, 26.5), align=None)
        Polygon((-55, 8), (-51.5, 8), (-51.5, 24), (-51.5, 26.5), (-51.5, 28), (-55, 28), align=None)
        Polygon((-55, -1), (-42.5, -1), (-42.5, 8), (-51.5, 8), (-55, 8), align=None)
        with Locations((-48, 27.25)):
            Rectangle(SKETCH72_W_4, SKETCH72_H_4)
    extrude(amount=CUT_EXTRUDE26_DEPTH + CUT_EXTRUDE26_DEPTH_BACK)


with BuildPart() as cut_extrude25_piece_1_1:
    add(cut_extrude25_piece_1.part)

    # Cut-Extrude26: cut by cut_extrude26_tool
    add(cut_extrude26_tool.part, mode=Mode.SUBTRACT)


with BuildPart() as cut_extrude25_piece_2_1:
    add(cut_extrude25_piece_2.part)

    # Cut-Extrude26: cut by cut_extrude26_tool
    add(cut_extrude26_tool.part, mode=Mode.SUBTRACT)


with BuildPart() as cut_extrude24_piece_2_1:
    add(cut_extrude24_piece_2.part)

    add(cut_extrude24_piece_3.part)  # Boss-Extrude40 merges Cut-Extrude24 piece 3

    add(cut_extrude24_piece_4.part)  # Boss-Extrude40 merges Cut-Extrude24 piece 4

    add(cut_extrude24_piece_5.part)  # Boss-Extrude40 merges Cut-Extrude24 piece 5

    add(cut_extrude25_piece_1_1.part)  # Boss-Extrude40 merges Cut-Extrude25 piece 1
    # Sketch73 → Boss-Extrude40 (add)
    with BuildSketch(Plane(origin=(0, 0, -17.5), x_dir=(-1, 0, 0), z_dir=(0, 0, -1))):
        Polygon((-42.5, 13.5), (-12.5, 13.5), (-12.5, 28), (-27.5, 28), align=None)
    extrude(amount=-BOSS_EXTRUDE40_DEPTH)

    # Sketch74 → Cut-Extrude27 (cut)
    with BuildSketch(Plane(origin=(0, 28, 0), x_dir=(1, 0, 0), z_dir=(0, 1, 0))):
        Polygon((142.438868127, -16), (42.5, -16), (12.5, -16), (12.5, -26), (42.5, -26), (42.5, -16), (42.5, -35.398740347), (12.5, -35.398740347), (12.5, -16), (12.5, 83.938868127), (-109.356799608, -74.497333037), (20.582068519, -174.436201164), align=None)
    extrude(amount=-CUT_EXTRUDE27_DEPTH, mode=Mode.SUBTRACT)


with BuildPart() as cut_extrude27_kept_piece:
    # of the separate pieces the step leaves, the one the design keeps (cut_extrude27_pieces_kept)
    add(cut_extrude24_piece_2_1.part.solids().sort_by_distance((17.5, 8, -17.5))[0])

    # Sketch75 → Boss-Extrude41 (add)
    with BuildSketch(Plane(origin=(0, 0, -17.5), x_dir=(-1, 0, 0), z_dir=(0, 0, -1))):
        with Locations((-27.5, 13.5)):
            Rectangle(SKETCH75_W, SKETCH75_H)
    extrude(amount=-BOSS_EXTRUDE41_DEPTH)

    # Sketch76 → Boss-Extrude42 (add)
    with BuildSketch(Plane(origin=(0, 0, -17.5), x_dir=(-1, 0, 0), z_dir=(0, 0, -1))):
        with BuildLine():
            ThreePointArc((-29.748273901, 11.326668562), (-27.5, 10.373003826), (-25.251726099, 11.326668562))
            Line((-25.251726099, 11.326668562), (-27.5, 13.5))
            Line((-27.5, 13.5), (-29.748273901, 11.326668562))
        make_face()
        with BuildLine():
            Line((-27.5, 13.5), (-25.251726099, 11.326668562))
            ThreePointArc((-25.251726099, 11.326668562), (-24.600995951, 12.327873474), (-24.373003826, 13.5))
            ThreePointArc((-24.373003826, 13.5), (-24.600995951, 14.672126526), (-25.251726099, 15.673331438))
            Line((-25.251726099, 15.673331438), (-27.5, 13.5))
        make_face()
        with BuildLine():
            Line((-29.748273901, 11.326668562), (-27.5, 13.5))
            Line((-27.5, 13.5), (-29.748273901, 15.673331438))
            ThreePointArc((-29.748273901, 15.673331438), (-30.626996174, 13.5), (-29.748273901, 11.326668562))
        make_face()
        with BuildLine():
            Line((-29.748273901, 15.673331438), (-27.5, 13.5))
            Line((-27.5, 13.5), (-25.251726099, 15.673331438))
            ThreePointArc((-25.251726099, 15.673331438), (-27.5, 16.626996174), (-29.748273901, 15.673331438))
        make_face()
    extrude(amount=BOSS_EXTRUDE42_DEPTH)


solid = cut_extrude27_kept_piece.part
